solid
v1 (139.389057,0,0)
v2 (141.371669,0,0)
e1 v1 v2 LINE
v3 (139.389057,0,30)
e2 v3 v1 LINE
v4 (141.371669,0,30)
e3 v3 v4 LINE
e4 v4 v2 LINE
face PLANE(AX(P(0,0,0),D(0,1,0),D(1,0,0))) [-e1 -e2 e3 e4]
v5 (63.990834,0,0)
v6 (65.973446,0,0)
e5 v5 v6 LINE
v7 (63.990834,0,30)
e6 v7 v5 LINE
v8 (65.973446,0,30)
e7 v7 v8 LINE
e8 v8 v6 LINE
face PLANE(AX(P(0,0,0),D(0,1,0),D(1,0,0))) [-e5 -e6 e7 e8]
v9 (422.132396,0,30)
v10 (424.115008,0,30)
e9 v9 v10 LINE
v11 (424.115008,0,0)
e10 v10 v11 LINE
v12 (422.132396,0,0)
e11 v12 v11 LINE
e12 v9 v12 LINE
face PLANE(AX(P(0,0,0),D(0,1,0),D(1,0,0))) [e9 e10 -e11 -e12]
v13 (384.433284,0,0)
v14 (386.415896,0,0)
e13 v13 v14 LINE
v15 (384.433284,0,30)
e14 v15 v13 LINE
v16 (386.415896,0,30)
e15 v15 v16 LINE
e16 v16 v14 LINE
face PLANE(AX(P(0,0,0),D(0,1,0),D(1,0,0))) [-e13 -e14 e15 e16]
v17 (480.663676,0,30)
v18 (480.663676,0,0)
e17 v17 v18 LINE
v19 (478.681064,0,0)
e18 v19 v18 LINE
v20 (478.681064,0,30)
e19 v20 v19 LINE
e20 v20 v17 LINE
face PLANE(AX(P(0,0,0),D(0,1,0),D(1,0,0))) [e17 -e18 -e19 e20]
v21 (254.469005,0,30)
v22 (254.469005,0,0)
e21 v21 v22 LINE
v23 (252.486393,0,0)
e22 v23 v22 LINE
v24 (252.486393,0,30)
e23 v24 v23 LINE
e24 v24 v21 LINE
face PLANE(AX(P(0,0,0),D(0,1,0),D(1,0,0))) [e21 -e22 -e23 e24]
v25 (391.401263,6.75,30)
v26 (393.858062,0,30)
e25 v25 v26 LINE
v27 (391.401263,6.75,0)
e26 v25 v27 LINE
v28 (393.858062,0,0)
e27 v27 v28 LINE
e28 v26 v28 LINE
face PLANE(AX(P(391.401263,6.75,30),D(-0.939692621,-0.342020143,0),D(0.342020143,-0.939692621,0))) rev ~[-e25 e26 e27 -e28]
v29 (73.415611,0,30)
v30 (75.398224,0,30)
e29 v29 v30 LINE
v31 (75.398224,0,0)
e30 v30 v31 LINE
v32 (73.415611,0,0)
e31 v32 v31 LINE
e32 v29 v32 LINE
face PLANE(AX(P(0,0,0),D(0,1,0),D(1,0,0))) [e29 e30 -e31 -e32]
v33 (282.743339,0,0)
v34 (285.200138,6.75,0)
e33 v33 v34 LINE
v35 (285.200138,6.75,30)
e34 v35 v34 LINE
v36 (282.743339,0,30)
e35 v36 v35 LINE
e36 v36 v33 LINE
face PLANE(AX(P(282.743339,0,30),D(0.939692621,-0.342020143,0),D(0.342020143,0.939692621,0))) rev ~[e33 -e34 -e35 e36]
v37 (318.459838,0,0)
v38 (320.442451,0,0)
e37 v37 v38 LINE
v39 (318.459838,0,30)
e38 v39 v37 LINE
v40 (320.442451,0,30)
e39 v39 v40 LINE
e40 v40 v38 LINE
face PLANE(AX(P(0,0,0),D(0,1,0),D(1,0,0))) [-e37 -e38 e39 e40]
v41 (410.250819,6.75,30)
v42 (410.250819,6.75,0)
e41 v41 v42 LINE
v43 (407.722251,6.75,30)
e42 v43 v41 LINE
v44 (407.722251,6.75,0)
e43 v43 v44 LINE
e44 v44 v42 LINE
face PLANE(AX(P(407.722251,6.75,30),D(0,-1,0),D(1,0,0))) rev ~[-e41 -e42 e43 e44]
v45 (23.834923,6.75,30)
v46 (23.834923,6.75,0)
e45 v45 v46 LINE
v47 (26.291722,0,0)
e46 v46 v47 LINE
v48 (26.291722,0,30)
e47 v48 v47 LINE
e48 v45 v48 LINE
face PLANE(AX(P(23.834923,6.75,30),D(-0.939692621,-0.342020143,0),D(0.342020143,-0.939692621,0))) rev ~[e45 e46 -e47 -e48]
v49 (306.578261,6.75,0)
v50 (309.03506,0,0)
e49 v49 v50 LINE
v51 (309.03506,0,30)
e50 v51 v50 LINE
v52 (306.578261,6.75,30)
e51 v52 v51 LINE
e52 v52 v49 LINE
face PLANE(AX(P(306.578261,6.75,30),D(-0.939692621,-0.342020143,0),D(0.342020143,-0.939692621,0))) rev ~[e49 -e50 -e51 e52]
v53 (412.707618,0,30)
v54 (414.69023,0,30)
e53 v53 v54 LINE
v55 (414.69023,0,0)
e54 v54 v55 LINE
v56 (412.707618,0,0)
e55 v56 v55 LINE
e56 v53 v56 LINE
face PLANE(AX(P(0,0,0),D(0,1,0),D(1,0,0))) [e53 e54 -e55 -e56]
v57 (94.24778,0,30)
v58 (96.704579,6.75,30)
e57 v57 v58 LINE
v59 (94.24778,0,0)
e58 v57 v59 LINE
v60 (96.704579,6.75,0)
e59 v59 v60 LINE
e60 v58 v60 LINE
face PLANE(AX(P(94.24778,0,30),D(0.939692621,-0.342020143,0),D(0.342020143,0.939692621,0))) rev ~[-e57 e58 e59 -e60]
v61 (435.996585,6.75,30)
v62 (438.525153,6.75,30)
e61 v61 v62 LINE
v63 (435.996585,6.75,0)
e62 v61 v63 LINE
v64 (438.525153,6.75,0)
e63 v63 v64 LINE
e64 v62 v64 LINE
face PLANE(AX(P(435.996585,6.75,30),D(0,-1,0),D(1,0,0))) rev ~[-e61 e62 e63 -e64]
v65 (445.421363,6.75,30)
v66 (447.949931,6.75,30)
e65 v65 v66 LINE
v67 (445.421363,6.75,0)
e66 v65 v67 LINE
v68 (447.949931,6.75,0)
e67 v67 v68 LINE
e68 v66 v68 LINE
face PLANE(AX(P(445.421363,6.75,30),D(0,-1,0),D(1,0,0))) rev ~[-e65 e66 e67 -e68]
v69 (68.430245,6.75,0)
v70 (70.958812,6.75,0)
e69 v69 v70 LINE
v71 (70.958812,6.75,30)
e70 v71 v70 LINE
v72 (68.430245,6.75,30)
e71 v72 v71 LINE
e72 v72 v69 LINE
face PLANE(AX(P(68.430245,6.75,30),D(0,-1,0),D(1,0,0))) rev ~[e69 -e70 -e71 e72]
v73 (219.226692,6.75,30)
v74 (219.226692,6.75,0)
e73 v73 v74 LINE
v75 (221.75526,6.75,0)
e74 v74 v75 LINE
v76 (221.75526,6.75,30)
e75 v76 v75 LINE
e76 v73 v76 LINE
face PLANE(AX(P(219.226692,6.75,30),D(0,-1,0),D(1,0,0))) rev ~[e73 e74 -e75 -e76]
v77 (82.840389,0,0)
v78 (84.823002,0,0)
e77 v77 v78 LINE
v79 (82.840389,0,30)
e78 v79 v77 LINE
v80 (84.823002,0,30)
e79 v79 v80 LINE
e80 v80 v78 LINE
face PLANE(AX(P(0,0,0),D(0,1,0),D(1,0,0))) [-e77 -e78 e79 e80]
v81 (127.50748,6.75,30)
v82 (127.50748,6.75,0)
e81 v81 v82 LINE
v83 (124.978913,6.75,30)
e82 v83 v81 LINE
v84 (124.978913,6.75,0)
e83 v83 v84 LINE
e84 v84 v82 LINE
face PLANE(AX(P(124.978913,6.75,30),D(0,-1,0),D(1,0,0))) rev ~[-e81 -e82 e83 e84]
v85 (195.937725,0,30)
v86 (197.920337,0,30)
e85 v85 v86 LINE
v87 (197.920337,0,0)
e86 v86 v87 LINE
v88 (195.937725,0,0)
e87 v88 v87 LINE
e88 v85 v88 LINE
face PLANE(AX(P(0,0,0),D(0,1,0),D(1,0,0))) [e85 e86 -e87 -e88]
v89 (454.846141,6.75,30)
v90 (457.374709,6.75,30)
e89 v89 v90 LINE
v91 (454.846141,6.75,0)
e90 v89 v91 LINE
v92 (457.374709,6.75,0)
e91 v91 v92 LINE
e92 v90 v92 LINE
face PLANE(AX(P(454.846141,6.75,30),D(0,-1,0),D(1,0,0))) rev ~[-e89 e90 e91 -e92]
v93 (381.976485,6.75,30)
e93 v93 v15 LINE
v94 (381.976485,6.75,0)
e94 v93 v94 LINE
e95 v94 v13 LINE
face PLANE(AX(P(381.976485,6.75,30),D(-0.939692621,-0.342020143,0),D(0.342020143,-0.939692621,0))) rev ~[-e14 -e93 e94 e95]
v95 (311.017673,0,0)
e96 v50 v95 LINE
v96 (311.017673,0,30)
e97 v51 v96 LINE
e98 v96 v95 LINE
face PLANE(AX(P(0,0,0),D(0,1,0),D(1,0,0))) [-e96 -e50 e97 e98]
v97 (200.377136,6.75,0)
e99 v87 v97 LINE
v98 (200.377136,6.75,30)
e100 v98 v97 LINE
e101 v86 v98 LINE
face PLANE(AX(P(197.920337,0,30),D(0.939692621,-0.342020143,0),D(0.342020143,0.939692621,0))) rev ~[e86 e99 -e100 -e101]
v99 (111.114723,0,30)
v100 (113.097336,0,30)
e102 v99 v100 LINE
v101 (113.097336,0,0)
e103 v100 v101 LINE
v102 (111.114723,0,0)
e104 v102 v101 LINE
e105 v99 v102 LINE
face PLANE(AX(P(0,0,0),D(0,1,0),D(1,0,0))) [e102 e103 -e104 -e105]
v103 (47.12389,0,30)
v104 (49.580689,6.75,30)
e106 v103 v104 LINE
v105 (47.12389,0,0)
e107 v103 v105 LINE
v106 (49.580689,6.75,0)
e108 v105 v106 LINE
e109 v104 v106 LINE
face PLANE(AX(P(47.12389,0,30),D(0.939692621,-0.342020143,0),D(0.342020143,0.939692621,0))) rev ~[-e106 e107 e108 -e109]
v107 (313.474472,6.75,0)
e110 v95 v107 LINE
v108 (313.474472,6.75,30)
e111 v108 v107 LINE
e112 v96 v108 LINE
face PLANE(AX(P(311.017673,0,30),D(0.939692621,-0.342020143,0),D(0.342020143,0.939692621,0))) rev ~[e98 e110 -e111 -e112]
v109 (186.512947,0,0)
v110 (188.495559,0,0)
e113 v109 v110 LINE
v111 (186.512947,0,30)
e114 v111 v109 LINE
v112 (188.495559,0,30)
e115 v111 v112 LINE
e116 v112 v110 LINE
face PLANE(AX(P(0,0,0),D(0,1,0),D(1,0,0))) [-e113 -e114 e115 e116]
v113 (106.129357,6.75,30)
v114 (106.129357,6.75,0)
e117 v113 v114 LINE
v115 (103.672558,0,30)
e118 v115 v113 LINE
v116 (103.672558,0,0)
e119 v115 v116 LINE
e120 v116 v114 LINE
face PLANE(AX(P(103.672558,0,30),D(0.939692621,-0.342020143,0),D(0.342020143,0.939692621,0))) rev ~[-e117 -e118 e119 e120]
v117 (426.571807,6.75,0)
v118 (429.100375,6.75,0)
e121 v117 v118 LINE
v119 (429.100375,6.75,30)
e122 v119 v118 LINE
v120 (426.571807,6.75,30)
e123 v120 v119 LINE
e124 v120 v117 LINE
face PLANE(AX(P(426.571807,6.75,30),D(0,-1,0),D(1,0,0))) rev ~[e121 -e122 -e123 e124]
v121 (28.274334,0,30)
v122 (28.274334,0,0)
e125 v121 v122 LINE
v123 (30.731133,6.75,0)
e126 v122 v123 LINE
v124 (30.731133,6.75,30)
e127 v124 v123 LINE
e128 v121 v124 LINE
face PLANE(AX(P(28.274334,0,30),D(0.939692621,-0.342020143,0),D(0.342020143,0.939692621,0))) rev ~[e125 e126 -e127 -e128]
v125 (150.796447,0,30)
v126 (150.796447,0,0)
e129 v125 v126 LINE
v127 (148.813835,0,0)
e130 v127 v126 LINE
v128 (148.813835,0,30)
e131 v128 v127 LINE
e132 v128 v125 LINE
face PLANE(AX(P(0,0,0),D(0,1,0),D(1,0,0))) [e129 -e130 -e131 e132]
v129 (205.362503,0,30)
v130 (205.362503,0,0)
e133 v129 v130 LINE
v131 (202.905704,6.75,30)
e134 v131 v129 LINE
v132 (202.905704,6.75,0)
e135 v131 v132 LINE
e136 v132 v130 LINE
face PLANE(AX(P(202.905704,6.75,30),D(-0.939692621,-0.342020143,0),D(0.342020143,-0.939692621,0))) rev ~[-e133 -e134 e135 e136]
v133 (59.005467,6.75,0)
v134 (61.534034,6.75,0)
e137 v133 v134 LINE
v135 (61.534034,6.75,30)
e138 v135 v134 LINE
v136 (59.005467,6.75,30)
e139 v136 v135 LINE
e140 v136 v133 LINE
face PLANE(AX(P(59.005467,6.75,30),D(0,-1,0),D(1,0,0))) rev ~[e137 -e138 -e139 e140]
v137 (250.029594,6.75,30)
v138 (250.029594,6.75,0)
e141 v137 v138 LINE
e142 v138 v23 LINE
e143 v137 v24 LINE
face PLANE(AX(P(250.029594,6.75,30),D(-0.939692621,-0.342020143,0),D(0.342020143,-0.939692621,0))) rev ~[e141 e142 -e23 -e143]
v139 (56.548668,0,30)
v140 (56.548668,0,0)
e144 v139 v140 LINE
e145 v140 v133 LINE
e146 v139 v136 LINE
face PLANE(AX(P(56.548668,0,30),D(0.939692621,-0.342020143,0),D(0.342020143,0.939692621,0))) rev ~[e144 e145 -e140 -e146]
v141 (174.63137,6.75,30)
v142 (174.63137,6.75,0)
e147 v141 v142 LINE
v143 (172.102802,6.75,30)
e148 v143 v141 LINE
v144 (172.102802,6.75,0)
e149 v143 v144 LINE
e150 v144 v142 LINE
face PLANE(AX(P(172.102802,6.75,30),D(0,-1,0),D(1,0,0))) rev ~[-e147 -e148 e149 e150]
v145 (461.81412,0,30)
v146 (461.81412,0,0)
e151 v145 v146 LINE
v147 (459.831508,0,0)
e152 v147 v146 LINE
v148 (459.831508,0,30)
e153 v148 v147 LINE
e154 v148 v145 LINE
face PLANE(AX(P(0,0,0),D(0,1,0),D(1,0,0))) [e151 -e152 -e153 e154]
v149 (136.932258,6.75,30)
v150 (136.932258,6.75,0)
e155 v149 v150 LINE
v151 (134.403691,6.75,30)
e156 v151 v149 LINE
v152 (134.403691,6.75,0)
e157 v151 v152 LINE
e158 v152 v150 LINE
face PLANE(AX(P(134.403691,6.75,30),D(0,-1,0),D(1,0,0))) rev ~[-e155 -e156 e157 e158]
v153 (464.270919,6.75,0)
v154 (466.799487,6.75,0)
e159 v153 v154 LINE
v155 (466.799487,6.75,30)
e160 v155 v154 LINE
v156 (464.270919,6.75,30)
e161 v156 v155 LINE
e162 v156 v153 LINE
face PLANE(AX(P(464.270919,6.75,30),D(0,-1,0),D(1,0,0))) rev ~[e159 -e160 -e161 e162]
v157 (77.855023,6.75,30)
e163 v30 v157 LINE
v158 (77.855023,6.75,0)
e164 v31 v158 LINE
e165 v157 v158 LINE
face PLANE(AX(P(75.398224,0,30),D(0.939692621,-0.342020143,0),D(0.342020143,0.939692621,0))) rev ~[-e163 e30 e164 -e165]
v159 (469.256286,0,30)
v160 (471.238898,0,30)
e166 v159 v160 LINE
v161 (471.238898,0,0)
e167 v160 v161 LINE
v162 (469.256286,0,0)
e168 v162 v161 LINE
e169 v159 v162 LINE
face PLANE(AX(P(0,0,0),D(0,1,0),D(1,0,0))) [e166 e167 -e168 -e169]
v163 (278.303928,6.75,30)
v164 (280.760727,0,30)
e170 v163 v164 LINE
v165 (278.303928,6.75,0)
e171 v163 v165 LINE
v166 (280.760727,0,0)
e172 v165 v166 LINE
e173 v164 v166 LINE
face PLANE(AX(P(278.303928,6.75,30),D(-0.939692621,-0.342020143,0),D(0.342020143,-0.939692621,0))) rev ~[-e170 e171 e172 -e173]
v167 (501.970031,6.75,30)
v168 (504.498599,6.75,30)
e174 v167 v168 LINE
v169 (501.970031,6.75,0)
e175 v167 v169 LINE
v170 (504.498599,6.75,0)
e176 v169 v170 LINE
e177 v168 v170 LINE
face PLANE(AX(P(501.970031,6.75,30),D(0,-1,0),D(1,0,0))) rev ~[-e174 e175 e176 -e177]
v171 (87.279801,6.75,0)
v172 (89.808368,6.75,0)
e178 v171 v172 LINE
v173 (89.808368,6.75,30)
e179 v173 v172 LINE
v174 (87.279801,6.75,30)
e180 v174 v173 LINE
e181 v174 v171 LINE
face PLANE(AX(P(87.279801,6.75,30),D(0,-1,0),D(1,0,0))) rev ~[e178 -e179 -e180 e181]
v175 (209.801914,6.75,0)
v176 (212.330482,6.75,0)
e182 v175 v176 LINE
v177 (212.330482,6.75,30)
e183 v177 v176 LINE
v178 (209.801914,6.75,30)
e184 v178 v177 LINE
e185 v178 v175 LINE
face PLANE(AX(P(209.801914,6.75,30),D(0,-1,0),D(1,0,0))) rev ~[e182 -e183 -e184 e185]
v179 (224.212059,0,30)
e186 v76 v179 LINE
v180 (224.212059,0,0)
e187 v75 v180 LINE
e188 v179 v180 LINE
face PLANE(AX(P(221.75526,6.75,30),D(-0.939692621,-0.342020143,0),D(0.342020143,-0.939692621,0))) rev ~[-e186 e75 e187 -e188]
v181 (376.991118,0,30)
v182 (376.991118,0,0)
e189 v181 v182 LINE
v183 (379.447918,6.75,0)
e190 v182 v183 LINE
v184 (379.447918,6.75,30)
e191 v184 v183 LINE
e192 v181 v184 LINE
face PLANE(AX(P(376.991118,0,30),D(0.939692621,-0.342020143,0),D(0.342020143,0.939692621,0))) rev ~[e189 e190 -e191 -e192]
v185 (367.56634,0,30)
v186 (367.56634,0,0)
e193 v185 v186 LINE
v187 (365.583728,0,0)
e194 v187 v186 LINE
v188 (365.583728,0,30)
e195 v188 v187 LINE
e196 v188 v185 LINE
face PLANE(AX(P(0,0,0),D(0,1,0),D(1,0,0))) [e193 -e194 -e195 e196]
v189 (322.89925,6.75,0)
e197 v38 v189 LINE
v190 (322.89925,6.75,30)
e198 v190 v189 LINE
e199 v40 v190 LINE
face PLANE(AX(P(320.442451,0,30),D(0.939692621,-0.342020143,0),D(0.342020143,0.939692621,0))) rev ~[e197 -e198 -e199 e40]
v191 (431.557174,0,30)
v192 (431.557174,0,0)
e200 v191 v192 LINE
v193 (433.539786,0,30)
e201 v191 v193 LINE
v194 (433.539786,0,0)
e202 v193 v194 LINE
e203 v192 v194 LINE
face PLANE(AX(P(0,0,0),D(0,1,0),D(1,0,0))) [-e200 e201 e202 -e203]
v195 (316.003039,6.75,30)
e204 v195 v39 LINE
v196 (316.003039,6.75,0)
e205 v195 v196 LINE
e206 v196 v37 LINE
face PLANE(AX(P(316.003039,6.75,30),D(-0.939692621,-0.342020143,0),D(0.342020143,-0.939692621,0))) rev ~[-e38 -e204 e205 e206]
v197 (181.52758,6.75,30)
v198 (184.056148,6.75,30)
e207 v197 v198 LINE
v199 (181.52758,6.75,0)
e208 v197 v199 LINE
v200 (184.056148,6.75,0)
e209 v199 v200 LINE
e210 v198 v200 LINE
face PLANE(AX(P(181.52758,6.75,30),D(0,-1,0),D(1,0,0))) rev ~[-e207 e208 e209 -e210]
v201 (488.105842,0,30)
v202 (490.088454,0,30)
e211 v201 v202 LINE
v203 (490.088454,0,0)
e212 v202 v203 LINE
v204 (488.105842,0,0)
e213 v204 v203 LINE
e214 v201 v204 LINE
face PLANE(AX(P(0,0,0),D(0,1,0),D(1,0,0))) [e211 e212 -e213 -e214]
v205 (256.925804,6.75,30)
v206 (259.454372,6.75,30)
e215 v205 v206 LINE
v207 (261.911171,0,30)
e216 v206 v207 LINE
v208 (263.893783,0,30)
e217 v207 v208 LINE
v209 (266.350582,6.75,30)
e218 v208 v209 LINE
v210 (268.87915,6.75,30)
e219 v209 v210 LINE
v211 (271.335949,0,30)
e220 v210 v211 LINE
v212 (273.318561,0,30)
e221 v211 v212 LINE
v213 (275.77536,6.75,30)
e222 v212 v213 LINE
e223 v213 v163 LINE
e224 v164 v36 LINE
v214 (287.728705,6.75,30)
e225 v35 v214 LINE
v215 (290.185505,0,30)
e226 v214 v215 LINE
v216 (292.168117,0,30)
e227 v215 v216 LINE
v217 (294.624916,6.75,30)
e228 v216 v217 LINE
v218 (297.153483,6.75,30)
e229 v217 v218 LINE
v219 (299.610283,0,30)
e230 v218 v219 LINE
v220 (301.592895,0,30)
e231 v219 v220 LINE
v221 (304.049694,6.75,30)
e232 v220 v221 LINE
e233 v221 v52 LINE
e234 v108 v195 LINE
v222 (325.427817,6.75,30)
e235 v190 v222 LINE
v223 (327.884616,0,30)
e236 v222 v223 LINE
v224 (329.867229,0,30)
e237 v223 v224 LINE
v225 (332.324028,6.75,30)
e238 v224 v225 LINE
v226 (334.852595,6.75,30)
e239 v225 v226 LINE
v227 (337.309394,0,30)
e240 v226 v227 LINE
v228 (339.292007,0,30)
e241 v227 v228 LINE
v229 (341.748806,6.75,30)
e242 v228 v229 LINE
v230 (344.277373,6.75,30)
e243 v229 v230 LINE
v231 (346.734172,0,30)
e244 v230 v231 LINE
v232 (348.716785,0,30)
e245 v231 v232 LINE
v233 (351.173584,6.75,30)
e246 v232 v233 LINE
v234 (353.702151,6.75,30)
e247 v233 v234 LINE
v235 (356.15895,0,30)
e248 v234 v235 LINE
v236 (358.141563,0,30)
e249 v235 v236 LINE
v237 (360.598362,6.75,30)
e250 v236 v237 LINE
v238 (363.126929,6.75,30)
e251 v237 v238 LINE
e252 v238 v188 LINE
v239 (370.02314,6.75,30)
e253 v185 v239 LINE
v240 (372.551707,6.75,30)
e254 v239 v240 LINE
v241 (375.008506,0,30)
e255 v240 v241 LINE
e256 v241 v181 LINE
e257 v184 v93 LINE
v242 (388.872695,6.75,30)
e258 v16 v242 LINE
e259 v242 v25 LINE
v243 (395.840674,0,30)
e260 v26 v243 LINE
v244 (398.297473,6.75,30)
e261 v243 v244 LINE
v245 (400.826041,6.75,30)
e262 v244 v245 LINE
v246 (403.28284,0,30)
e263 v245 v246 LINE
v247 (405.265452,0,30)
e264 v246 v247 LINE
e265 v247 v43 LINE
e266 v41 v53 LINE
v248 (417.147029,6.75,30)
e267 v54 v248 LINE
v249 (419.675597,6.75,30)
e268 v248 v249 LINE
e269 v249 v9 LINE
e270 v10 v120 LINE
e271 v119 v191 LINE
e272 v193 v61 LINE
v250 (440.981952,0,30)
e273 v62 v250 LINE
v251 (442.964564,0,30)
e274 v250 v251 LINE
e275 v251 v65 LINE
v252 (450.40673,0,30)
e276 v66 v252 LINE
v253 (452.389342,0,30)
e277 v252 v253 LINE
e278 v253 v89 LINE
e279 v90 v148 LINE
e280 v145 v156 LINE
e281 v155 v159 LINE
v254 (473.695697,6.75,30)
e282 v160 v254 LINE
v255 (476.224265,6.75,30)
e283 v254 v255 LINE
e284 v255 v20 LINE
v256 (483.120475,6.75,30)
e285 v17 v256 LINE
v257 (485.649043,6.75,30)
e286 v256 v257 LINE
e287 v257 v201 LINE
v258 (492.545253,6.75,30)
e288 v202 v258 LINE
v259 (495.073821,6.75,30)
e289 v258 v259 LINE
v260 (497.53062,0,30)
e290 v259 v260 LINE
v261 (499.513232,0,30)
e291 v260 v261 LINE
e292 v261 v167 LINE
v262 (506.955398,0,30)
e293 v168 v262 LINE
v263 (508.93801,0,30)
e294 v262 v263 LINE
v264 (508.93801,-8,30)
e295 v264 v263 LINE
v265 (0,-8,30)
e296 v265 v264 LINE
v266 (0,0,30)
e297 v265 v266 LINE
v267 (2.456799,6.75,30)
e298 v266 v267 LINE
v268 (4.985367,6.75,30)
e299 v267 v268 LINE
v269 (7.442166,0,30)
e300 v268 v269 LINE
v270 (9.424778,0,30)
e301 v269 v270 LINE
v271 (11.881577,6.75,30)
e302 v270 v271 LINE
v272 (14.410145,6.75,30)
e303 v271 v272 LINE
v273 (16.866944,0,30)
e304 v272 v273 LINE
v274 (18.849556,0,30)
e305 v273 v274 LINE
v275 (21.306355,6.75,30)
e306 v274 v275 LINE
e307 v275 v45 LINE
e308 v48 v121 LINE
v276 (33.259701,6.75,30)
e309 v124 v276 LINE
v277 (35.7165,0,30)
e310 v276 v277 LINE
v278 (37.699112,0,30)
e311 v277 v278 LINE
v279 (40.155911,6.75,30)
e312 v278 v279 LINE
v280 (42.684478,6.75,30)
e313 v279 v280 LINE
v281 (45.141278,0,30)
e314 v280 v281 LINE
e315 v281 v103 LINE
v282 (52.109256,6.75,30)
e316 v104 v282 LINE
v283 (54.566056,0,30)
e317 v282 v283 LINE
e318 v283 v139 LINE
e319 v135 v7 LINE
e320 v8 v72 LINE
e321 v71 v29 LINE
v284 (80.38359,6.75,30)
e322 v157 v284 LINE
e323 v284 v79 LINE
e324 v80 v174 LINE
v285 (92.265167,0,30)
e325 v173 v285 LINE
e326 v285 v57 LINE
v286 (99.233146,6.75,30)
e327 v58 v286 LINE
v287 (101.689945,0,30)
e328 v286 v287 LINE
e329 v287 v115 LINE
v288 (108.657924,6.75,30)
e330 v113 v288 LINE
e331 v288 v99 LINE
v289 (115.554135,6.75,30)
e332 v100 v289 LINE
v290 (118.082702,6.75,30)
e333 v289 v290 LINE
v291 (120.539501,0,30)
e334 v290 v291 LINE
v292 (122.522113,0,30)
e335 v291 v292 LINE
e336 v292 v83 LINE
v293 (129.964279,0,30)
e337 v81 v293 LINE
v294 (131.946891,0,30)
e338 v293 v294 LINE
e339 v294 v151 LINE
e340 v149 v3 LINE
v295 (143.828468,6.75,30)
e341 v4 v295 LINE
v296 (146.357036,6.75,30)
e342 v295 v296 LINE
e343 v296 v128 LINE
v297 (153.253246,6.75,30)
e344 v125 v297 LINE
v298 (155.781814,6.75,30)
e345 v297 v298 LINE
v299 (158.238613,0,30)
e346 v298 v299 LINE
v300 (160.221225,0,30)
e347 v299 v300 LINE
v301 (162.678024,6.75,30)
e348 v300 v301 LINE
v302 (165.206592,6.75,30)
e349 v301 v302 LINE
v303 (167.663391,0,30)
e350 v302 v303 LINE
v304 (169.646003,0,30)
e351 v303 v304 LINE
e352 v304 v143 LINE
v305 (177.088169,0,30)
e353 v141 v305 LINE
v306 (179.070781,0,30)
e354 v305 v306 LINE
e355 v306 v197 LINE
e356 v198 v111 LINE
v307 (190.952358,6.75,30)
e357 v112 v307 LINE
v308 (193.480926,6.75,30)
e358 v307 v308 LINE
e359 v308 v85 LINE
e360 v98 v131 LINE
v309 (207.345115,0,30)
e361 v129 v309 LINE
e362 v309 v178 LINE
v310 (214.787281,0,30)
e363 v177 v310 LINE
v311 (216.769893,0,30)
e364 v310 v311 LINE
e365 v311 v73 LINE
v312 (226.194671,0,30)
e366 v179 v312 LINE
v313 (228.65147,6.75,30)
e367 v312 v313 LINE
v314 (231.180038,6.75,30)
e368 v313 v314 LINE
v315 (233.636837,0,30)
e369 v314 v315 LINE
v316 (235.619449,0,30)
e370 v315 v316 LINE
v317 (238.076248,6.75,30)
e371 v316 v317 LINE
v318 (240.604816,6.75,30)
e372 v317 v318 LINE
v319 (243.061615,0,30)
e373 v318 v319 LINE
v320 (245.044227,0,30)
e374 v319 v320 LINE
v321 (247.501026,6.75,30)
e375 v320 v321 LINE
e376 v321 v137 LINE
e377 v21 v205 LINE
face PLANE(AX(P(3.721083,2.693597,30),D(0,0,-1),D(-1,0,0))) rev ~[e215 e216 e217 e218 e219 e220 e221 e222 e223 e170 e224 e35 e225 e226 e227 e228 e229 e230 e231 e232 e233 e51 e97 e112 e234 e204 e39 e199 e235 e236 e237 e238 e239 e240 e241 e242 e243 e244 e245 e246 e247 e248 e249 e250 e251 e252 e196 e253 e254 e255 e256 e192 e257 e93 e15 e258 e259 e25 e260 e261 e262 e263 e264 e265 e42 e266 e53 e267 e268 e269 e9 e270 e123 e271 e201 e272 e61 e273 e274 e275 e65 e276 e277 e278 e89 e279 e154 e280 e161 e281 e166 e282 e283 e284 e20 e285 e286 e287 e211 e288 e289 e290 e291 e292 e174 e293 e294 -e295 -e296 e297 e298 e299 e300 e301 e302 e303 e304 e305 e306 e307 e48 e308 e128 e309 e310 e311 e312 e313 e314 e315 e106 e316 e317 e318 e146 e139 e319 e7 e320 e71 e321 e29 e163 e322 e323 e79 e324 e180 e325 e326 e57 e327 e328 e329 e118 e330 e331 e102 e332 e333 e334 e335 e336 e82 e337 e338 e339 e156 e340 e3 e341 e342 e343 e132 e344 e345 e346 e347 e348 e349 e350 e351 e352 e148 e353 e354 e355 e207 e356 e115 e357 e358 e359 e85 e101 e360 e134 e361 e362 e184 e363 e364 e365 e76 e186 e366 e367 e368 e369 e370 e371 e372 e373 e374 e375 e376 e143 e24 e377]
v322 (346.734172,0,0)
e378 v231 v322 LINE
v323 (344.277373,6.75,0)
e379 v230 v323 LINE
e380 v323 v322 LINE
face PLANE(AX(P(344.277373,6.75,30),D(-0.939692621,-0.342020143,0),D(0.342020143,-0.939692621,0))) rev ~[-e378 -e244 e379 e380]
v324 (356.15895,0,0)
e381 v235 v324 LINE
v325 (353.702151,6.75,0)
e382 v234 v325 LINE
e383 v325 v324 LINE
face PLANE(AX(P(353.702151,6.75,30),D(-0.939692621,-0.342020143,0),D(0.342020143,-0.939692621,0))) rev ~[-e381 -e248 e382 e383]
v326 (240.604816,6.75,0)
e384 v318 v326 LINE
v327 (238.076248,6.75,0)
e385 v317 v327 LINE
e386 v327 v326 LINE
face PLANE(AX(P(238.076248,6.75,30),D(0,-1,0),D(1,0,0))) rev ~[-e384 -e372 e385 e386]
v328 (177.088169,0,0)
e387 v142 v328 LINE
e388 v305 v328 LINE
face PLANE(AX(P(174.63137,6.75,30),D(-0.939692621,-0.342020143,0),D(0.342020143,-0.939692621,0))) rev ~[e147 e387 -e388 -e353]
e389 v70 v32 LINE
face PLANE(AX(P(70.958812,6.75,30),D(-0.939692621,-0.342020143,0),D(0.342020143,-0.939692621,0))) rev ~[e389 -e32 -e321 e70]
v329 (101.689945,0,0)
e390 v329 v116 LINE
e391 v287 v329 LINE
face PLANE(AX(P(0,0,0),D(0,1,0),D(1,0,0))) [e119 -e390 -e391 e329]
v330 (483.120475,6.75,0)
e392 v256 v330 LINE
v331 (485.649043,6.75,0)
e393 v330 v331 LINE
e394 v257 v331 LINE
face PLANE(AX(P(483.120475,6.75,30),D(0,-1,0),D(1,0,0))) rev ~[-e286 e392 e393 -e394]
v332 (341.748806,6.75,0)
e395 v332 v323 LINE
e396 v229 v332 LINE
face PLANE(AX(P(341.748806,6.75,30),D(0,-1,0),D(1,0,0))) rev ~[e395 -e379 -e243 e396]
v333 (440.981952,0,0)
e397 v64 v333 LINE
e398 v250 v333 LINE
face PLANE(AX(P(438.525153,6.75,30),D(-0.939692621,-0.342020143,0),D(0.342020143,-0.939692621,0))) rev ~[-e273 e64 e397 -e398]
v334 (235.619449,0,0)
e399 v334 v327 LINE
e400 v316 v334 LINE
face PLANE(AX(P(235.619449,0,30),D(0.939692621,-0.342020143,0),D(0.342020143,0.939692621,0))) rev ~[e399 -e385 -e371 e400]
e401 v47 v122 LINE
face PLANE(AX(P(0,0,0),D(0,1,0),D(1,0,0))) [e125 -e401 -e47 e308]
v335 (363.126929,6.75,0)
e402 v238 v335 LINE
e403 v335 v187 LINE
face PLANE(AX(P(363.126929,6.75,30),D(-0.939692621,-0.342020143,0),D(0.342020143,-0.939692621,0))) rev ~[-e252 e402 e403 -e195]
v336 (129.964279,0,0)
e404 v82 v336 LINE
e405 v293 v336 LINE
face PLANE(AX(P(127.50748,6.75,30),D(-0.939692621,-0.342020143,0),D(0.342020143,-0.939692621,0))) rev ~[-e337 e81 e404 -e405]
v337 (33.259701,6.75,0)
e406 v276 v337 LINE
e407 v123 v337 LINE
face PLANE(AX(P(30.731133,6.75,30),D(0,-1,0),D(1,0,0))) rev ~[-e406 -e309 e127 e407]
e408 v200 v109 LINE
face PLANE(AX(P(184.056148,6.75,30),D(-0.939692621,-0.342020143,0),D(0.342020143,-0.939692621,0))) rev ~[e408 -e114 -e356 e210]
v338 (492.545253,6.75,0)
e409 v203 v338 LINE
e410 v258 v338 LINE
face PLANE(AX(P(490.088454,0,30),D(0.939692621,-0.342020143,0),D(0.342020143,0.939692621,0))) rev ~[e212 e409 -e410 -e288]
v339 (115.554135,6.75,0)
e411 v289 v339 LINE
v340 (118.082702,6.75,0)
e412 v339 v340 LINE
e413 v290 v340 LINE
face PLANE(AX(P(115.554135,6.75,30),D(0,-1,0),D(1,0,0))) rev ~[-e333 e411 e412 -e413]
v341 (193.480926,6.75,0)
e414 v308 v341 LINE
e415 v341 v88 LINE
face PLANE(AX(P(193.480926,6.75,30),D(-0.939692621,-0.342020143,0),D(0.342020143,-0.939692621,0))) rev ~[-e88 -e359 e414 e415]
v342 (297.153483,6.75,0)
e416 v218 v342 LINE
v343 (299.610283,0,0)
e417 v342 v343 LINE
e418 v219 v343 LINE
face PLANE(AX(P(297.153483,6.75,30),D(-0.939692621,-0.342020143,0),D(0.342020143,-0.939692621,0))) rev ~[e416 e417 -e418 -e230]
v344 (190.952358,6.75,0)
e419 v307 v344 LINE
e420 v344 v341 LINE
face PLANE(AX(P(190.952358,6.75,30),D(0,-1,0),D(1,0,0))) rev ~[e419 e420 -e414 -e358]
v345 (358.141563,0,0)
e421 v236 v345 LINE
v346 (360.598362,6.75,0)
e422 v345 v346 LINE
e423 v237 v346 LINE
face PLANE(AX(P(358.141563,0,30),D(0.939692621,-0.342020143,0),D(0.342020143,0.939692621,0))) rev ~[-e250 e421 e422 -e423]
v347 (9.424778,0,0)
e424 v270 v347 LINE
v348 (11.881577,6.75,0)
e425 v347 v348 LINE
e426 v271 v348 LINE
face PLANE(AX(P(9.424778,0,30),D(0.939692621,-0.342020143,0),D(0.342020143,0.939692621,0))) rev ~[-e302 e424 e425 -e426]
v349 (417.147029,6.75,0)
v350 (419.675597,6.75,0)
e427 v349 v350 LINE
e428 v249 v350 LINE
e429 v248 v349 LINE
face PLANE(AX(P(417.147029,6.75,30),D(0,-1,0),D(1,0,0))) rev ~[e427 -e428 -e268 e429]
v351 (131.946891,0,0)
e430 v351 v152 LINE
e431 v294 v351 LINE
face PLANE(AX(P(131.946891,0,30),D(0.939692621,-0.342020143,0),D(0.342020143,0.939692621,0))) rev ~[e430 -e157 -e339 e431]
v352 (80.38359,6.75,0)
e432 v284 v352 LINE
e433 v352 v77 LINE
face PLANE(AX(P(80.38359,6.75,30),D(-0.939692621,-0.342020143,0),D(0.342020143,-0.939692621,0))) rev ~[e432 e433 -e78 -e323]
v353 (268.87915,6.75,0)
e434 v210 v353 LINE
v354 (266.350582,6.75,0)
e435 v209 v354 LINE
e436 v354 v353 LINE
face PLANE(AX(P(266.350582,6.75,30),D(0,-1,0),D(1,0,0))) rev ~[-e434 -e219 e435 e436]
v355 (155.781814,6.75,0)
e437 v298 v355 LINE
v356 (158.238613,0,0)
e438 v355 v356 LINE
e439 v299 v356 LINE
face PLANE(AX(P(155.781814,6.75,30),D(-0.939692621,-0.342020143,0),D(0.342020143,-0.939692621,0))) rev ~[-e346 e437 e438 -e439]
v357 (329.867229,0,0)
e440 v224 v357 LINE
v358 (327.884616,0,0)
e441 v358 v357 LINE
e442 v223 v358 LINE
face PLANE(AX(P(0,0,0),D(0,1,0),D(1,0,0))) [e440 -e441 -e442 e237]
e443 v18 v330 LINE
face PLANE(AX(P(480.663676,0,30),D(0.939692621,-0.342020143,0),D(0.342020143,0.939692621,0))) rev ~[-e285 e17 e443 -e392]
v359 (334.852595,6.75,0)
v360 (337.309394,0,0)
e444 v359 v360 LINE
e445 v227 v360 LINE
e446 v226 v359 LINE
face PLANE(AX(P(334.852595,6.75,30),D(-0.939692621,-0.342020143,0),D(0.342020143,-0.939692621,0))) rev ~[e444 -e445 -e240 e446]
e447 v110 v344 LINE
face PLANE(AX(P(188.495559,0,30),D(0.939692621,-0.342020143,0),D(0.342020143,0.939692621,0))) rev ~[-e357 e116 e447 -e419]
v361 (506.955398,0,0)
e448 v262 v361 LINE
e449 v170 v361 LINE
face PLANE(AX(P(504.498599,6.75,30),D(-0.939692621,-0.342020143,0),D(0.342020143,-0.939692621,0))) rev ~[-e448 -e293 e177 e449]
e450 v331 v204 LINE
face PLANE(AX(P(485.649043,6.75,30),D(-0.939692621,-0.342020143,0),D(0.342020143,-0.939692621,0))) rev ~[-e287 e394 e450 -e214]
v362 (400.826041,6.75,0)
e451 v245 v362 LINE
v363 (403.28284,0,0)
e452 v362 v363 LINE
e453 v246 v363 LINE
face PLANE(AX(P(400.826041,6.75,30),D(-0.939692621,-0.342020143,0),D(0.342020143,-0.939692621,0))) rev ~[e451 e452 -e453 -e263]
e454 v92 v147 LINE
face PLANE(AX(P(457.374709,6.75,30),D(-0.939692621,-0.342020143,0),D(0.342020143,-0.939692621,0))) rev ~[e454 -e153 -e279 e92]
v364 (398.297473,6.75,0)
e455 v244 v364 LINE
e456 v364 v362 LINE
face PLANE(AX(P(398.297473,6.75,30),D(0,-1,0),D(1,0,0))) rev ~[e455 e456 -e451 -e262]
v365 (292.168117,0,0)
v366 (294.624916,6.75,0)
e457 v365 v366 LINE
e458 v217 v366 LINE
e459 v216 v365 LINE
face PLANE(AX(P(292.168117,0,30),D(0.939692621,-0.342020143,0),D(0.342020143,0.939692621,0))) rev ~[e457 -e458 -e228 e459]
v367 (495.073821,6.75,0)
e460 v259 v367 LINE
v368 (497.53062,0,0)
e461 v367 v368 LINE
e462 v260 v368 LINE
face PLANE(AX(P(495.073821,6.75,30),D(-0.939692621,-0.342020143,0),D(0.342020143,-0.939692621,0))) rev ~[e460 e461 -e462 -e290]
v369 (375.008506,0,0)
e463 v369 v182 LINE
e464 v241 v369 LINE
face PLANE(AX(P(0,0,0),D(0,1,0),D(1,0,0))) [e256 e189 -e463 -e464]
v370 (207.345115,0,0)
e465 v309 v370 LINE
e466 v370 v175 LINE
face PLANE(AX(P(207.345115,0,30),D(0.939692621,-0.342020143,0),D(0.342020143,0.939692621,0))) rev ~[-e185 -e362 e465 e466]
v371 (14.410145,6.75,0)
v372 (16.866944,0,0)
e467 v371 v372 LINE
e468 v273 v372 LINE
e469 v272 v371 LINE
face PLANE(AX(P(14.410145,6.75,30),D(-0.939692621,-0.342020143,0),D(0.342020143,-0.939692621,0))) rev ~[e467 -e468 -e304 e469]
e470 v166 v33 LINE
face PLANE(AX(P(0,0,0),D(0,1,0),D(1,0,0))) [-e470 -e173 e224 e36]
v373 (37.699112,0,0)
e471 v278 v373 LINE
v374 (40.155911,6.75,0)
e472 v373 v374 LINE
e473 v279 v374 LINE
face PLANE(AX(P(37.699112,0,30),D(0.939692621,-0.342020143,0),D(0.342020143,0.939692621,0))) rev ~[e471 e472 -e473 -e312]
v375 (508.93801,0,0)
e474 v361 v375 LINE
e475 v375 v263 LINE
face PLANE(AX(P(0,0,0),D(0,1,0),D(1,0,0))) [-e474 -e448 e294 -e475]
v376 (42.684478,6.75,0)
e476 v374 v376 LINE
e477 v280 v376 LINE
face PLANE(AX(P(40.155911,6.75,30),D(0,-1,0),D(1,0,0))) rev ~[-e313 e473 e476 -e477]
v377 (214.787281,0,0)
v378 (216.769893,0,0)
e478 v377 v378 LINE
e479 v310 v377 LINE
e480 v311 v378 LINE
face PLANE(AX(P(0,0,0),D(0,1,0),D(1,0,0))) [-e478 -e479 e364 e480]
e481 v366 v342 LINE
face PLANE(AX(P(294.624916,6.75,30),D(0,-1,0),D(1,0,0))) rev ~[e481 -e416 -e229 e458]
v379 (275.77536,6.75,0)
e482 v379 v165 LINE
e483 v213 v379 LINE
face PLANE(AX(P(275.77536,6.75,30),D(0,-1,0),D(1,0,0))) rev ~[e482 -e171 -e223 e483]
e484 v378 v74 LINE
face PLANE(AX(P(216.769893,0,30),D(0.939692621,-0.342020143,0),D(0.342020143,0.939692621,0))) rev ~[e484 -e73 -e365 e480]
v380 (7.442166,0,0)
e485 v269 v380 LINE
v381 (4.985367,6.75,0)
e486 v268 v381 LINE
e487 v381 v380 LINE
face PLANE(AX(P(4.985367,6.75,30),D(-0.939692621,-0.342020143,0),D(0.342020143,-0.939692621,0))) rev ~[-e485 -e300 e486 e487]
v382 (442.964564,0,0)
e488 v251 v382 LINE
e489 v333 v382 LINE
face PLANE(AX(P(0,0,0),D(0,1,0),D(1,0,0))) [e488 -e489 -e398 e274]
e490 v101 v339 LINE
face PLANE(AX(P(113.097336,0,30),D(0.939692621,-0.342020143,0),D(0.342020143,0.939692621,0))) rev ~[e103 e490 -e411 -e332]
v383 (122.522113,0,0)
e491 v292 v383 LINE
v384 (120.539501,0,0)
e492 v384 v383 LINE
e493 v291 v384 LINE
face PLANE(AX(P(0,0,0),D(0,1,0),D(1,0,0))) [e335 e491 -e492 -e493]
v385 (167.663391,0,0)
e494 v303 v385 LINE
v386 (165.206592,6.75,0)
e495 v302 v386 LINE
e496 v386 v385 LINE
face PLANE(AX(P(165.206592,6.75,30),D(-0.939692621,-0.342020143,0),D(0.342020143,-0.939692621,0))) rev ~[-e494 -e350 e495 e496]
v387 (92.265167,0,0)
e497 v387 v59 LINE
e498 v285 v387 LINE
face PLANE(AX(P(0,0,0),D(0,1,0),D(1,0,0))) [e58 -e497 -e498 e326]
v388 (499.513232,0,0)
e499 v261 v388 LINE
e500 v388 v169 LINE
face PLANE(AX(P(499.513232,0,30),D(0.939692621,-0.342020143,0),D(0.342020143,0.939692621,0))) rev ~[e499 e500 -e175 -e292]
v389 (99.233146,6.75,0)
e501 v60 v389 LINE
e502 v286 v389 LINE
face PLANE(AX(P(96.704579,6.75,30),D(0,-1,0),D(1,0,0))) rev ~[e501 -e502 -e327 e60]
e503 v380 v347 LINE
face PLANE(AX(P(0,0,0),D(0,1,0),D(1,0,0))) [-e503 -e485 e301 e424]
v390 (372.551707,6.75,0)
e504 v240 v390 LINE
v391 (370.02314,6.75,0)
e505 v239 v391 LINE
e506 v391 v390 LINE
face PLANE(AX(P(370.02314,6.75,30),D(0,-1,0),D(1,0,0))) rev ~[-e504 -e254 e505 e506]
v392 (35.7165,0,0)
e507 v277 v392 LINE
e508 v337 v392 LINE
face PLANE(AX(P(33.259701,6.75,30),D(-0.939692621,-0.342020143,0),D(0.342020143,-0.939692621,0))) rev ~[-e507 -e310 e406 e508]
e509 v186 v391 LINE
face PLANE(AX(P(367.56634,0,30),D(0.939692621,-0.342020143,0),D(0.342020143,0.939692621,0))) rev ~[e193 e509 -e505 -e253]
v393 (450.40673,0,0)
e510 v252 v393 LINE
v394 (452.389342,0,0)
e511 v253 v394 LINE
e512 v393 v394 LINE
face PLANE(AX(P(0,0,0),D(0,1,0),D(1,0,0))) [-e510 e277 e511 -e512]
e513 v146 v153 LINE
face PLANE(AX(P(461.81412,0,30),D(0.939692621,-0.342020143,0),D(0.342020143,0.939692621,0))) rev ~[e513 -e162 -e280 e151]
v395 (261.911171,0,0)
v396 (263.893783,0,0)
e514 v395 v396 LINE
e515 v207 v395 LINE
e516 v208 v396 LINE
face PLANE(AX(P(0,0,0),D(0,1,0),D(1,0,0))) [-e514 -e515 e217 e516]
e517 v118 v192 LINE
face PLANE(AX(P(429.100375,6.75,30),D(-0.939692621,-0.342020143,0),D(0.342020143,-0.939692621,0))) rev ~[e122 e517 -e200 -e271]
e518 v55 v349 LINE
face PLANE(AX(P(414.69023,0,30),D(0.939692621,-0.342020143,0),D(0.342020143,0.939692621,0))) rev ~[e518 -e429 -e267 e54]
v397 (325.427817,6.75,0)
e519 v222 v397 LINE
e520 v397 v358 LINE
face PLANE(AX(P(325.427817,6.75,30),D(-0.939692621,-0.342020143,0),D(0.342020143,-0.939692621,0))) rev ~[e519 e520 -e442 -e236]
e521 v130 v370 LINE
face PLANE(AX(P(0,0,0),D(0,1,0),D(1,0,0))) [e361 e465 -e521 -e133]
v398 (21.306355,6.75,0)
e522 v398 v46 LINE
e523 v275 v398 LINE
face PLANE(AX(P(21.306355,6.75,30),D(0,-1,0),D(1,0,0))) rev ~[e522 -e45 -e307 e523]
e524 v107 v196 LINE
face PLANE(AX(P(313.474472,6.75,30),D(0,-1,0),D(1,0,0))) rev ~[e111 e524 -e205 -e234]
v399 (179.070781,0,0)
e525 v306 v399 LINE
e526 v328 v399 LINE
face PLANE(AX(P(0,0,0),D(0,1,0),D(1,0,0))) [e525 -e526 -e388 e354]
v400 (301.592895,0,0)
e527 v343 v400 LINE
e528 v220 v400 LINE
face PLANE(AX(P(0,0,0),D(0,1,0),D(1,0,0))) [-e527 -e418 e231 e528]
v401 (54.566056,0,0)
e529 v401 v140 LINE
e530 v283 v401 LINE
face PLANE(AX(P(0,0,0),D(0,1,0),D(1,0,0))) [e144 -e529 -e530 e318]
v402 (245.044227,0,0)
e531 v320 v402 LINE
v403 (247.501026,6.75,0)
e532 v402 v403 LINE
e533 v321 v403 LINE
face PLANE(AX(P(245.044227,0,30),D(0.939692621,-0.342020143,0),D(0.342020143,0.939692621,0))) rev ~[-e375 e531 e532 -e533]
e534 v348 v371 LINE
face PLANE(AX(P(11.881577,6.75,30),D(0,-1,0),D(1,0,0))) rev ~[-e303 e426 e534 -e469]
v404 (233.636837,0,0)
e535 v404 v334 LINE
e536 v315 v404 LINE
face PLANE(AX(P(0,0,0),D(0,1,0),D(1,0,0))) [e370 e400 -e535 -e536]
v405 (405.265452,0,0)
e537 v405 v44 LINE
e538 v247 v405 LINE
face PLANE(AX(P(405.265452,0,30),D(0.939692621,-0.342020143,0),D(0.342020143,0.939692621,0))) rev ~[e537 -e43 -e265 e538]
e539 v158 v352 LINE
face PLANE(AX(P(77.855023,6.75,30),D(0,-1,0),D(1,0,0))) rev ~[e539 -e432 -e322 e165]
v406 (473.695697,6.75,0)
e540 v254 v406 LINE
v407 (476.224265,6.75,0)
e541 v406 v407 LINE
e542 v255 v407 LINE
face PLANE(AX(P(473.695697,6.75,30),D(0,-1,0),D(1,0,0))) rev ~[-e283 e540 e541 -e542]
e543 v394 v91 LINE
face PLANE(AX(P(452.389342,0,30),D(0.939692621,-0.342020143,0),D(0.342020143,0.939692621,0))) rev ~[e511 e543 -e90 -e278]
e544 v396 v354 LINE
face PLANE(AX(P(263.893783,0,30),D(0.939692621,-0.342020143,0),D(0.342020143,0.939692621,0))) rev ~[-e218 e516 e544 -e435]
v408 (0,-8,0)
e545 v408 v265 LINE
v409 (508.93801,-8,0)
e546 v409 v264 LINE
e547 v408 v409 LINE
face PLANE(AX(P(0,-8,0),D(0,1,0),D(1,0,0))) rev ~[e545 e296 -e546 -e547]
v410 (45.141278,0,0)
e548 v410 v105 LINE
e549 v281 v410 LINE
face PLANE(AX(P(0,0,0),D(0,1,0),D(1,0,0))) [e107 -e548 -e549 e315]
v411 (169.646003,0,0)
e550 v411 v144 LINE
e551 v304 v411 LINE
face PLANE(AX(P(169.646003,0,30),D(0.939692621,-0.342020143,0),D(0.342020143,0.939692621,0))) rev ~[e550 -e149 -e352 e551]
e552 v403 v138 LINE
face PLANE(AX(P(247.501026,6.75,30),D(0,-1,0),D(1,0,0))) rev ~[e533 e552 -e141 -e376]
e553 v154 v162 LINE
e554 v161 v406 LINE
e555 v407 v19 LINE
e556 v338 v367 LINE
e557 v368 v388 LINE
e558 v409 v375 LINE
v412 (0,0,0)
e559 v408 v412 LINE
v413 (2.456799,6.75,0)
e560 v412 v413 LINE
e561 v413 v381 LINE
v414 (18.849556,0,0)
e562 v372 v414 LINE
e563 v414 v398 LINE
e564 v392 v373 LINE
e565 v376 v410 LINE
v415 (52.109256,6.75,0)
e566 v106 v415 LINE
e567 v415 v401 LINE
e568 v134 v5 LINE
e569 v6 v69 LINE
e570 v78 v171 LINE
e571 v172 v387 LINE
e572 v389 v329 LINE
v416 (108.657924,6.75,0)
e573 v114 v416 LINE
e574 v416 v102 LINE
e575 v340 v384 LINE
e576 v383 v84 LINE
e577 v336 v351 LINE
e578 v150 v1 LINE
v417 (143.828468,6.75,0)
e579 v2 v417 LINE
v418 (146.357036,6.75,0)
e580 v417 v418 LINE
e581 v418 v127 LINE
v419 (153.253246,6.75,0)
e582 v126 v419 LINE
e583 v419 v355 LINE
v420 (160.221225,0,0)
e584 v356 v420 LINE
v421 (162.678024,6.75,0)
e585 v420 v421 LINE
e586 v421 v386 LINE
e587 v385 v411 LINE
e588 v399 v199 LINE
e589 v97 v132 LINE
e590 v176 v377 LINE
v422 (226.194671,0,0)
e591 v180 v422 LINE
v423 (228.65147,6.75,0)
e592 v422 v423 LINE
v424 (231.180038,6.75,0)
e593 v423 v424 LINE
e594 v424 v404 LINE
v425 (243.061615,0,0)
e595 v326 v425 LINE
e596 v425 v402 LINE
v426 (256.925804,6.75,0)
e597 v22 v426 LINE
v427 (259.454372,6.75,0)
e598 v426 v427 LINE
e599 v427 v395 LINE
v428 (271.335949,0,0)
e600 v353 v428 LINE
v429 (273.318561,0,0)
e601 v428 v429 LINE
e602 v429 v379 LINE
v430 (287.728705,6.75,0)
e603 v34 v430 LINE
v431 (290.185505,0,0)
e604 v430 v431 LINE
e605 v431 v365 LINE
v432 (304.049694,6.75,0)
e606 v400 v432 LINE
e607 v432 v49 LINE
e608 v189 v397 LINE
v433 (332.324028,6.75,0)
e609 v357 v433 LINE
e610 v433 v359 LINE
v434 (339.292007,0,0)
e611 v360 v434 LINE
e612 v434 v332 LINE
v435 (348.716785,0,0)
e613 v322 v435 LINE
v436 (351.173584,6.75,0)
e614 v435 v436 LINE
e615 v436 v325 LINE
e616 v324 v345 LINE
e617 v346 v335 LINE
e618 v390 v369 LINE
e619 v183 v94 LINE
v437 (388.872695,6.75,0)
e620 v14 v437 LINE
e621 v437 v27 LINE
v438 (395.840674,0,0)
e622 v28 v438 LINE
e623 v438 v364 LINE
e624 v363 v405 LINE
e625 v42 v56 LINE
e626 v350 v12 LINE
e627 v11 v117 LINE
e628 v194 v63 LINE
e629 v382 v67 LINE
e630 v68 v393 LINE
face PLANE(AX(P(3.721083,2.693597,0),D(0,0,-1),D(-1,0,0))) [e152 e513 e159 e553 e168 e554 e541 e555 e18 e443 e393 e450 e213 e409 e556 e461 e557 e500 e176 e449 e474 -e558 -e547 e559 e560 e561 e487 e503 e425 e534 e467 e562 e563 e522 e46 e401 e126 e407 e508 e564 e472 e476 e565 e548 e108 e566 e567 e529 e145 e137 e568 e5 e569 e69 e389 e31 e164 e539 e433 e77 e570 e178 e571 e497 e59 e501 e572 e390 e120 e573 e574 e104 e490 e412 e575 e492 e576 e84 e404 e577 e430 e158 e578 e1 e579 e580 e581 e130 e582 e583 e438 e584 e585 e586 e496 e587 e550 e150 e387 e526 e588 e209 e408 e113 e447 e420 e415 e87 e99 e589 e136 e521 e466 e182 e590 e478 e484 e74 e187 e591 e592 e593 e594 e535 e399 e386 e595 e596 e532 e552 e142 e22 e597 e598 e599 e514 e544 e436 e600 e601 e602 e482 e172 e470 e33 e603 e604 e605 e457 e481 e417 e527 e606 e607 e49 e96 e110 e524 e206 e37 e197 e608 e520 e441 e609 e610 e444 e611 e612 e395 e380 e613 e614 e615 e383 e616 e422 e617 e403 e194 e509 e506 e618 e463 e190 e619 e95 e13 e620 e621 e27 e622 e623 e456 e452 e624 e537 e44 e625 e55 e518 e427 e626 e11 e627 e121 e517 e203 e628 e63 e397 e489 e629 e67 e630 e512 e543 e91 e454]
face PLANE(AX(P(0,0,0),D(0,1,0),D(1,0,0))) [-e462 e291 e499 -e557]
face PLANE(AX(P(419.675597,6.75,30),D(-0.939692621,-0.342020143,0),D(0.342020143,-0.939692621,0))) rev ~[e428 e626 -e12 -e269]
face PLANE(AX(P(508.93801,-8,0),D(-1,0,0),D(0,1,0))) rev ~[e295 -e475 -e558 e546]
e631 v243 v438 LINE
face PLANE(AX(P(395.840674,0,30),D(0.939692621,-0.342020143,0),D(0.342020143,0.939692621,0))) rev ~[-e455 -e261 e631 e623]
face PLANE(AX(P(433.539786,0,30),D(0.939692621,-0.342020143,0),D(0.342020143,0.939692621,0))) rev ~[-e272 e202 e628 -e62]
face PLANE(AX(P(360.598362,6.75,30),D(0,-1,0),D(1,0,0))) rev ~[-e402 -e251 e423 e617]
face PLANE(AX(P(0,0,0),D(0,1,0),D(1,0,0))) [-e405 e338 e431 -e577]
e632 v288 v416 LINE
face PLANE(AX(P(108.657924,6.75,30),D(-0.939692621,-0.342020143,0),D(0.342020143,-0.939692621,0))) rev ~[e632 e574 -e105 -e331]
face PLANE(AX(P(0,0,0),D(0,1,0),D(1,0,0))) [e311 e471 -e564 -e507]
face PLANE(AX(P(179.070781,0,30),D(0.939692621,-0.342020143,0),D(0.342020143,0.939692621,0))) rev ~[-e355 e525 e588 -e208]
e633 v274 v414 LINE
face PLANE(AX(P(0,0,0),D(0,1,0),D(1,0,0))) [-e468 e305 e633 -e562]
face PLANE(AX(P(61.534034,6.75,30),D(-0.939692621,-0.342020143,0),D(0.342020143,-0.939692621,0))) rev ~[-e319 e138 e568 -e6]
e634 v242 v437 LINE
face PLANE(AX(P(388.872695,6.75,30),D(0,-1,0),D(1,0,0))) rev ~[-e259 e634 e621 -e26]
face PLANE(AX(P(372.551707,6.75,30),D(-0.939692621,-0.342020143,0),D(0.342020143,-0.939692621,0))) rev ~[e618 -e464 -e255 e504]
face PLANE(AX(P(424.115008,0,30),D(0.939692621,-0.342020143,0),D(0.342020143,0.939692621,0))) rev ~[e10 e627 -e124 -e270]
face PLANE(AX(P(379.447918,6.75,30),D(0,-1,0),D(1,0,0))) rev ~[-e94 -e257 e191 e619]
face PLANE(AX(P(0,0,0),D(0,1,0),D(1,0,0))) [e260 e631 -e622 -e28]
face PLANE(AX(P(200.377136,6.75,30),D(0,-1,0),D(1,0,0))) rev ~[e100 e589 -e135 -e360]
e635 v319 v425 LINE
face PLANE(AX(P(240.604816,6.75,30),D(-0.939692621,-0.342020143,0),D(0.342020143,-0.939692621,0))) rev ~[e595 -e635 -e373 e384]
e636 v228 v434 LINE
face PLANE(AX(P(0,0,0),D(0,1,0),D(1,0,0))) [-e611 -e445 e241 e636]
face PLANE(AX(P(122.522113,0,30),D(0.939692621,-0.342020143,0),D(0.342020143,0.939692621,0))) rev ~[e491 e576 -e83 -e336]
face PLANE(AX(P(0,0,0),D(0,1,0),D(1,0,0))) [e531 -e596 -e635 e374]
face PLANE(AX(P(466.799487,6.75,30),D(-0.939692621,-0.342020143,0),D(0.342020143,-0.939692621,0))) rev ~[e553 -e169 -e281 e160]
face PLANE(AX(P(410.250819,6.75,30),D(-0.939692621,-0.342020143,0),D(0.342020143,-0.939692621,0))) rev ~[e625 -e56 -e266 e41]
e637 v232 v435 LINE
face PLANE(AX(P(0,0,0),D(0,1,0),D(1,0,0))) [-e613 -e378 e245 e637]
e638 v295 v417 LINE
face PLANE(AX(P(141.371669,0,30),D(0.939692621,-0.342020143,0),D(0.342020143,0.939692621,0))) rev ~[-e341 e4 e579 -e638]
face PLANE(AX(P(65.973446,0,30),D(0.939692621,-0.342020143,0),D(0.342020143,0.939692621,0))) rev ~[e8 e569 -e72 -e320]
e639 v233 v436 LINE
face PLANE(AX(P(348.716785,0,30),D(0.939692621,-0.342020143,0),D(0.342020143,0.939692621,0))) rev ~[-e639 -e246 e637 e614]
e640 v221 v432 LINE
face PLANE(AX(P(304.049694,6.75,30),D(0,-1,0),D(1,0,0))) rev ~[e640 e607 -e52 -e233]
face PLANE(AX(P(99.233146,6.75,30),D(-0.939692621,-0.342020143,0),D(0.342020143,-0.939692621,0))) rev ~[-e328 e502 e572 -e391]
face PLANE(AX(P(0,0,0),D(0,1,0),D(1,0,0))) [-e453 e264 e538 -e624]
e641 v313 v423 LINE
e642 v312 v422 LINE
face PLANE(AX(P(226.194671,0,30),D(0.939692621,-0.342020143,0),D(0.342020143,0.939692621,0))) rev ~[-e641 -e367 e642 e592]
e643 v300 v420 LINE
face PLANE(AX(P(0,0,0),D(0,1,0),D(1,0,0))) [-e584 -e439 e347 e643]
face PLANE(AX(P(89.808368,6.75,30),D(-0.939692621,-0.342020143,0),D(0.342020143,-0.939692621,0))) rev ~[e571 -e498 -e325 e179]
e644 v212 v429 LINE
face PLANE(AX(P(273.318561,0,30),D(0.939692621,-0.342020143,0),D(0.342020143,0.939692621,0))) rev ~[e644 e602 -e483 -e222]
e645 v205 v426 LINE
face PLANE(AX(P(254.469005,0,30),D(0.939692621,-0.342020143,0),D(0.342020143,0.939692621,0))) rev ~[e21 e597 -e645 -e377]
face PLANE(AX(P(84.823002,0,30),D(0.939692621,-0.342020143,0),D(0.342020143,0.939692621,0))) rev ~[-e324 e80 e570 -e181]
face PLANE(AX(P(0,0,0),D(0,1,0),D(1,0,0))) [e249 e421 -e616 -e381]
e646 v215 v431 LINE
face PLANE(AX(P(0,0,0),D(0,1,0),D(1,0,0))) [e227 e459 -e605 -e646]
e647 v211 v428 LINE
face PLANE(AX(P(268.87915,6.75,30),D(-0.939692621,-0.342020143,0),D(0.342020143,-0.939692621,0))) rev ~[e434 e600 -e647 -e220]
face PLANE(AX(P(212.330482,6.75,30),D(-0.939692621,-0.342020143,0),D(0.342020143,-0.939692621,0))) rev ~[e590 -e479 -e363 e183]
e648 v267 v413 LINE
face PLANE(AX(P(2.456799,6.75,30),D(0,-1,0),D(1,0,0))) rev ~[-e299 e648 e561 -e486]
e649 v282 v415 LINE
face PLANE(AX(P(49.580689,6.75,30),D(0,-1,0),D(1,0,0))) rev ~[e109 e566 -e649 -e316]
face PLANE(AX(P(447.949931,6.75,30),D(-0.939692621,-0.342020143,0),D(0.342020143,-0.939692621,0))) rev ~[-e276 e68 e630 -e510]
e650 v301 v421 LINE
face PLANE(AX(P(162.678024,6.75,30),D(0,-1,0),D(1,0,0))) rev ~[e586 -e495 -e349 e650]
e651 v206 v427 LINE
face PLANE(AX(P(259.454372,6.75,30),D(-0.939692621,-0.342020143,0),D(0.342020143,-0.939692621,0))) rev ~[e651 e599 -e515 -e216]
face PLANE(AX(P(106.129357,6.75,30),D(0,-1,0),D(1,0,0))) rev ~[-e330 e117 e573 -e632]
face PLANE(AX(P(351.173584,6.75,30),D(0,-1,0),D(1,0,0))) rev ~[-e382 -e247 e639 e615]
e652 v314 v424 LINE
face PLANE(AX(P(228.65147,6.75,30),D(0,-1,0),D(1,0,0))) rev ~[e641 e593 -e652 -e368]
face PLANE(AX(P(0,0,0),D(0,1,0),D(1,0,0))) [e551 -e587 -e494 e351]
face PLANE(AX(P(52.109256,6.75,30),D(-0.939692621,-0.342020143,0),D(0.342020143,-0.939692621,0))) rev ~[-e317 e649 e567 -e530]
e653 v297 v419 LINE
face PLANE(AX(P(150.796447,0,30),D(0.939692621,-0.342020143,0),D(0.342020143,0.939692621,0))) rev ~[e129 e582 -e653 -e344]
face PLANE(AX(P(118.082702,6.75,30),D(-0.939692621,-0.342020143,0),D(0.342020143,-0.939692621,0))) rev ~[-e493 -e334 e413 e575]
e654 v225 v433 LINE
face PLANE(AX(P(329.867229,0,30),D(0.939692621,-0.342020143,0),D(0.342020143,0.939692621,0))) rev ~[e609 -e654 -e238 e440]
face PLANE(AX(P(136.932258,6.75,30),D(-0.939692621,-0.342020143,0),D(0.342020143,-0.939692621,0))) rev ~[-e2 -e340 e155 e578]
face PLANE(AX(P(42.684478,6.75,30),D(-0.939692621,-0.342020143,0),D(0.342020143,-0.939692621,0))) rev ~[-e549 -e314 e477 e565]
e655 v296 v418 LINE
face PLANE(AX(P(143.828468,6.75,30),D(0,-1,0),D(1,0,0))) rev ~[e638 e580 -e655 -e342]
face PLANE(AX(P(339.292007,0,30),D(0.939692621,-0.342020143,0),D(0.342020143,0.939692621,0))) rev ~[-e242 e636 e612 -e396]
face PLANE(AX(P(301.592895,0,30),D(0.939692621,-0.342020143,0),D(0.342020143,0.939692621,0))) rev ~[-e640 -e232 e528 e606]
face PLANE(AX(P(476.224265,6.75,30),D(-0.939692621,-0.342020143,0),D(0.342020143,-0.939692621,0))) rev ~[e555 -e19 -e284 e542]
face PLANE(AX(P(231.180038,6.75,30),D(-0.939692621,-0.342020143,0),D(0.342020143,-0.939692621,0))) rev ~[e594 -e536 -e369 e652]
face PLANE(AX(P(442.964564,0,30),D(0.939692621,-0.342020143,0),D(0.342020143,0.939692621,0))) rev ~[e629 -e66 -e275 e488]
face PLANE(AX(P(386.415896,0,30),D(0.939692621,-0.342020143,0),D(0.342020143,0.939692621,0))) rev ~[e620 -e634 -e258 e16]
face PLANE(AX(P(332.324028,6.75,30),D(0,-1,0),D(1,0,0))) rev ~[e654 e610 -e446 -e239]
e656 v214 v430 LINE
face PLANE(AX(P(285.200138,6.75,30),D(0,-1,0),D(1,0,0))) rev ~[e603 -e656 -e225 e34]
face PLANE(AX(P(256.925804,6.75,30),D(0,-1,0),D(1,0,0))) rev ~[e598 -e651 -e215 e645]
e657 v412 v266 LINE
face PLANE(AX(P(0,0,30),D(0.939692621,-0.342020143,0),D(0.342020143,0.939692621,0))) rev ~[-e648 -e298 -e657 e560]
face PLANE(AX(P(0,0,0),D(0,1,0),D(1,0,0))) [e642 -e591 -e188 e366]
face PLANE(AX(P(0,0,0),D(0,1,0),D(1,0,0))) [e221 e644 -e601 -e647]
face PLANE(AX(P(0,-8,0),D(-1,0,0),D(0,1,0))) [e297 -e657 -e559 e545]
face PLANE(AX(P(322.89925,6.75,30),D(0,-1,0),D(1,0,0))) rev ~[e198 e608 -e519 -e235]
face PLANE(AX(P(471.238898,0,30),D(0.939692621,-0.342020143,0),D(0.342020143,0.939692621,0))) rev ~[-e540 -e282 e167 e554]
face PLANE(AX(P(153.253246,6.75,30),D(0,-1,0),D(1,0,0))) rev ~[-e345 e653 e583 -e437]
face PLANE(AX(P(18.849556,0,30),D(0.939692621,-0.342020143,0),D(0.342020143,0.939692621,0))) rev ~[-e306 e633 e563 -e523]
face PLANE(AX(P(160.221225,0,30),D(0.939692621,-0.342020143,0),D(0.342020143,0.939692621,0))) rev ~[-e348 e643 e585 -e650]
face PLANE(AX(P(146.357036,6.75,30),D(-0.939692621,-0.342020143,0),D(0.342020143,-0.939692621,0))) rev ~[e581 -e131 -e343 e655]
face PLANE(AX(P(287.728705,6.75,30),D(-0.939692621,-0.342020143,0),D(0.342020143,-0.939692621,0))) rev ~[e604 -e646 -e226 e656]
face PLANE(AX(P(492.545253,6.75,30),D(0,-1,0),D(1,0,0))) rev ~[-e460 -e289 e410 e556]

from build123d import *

# Parameters (mm, degrees)
SKETCH_1_W             = 508.938009882
SKETCH_1_H             = 8
EXTRUDE_1_DEPTH        = 30
EXTRUDE_2_DEPTH        = 30
PATTERN_LINEAR_1_COUNT = 54
PATTERN_LINEAR_1_PITCH = 9.424777961


with BuildPart() as part:
    # 草图1 → 拉伸1 (new body)
    with BuildSketch(Plane.XY):
        with Locations((254.469004941, -4)):
            Rectangle(SKETCH_1_W, SKETCH_1_H)
    extrude(amount=EXTRUDE_1_DEPTH)

    # 草图2 → 拉伸2 (add)
    with BuildSketch(Plane.XY.offset(30)):
        Polygon((0, 0), (2.456799081, 6.75), (4.985366656, 6.75), (7.442165737, 0), align=None)
    extrude_2 = extrude(amount=-EXTRUDE_2_DEPTH)

    # 阵列(线性)1: 拉伸2 ×54
    with Locations(*[(i * PATTERN_LINEAR_1_PITCH, 0, 0) for i in range(1, PATTERN_LINEAR_1_COUNT)]):
        add(extrude_2)


solid = part.part
